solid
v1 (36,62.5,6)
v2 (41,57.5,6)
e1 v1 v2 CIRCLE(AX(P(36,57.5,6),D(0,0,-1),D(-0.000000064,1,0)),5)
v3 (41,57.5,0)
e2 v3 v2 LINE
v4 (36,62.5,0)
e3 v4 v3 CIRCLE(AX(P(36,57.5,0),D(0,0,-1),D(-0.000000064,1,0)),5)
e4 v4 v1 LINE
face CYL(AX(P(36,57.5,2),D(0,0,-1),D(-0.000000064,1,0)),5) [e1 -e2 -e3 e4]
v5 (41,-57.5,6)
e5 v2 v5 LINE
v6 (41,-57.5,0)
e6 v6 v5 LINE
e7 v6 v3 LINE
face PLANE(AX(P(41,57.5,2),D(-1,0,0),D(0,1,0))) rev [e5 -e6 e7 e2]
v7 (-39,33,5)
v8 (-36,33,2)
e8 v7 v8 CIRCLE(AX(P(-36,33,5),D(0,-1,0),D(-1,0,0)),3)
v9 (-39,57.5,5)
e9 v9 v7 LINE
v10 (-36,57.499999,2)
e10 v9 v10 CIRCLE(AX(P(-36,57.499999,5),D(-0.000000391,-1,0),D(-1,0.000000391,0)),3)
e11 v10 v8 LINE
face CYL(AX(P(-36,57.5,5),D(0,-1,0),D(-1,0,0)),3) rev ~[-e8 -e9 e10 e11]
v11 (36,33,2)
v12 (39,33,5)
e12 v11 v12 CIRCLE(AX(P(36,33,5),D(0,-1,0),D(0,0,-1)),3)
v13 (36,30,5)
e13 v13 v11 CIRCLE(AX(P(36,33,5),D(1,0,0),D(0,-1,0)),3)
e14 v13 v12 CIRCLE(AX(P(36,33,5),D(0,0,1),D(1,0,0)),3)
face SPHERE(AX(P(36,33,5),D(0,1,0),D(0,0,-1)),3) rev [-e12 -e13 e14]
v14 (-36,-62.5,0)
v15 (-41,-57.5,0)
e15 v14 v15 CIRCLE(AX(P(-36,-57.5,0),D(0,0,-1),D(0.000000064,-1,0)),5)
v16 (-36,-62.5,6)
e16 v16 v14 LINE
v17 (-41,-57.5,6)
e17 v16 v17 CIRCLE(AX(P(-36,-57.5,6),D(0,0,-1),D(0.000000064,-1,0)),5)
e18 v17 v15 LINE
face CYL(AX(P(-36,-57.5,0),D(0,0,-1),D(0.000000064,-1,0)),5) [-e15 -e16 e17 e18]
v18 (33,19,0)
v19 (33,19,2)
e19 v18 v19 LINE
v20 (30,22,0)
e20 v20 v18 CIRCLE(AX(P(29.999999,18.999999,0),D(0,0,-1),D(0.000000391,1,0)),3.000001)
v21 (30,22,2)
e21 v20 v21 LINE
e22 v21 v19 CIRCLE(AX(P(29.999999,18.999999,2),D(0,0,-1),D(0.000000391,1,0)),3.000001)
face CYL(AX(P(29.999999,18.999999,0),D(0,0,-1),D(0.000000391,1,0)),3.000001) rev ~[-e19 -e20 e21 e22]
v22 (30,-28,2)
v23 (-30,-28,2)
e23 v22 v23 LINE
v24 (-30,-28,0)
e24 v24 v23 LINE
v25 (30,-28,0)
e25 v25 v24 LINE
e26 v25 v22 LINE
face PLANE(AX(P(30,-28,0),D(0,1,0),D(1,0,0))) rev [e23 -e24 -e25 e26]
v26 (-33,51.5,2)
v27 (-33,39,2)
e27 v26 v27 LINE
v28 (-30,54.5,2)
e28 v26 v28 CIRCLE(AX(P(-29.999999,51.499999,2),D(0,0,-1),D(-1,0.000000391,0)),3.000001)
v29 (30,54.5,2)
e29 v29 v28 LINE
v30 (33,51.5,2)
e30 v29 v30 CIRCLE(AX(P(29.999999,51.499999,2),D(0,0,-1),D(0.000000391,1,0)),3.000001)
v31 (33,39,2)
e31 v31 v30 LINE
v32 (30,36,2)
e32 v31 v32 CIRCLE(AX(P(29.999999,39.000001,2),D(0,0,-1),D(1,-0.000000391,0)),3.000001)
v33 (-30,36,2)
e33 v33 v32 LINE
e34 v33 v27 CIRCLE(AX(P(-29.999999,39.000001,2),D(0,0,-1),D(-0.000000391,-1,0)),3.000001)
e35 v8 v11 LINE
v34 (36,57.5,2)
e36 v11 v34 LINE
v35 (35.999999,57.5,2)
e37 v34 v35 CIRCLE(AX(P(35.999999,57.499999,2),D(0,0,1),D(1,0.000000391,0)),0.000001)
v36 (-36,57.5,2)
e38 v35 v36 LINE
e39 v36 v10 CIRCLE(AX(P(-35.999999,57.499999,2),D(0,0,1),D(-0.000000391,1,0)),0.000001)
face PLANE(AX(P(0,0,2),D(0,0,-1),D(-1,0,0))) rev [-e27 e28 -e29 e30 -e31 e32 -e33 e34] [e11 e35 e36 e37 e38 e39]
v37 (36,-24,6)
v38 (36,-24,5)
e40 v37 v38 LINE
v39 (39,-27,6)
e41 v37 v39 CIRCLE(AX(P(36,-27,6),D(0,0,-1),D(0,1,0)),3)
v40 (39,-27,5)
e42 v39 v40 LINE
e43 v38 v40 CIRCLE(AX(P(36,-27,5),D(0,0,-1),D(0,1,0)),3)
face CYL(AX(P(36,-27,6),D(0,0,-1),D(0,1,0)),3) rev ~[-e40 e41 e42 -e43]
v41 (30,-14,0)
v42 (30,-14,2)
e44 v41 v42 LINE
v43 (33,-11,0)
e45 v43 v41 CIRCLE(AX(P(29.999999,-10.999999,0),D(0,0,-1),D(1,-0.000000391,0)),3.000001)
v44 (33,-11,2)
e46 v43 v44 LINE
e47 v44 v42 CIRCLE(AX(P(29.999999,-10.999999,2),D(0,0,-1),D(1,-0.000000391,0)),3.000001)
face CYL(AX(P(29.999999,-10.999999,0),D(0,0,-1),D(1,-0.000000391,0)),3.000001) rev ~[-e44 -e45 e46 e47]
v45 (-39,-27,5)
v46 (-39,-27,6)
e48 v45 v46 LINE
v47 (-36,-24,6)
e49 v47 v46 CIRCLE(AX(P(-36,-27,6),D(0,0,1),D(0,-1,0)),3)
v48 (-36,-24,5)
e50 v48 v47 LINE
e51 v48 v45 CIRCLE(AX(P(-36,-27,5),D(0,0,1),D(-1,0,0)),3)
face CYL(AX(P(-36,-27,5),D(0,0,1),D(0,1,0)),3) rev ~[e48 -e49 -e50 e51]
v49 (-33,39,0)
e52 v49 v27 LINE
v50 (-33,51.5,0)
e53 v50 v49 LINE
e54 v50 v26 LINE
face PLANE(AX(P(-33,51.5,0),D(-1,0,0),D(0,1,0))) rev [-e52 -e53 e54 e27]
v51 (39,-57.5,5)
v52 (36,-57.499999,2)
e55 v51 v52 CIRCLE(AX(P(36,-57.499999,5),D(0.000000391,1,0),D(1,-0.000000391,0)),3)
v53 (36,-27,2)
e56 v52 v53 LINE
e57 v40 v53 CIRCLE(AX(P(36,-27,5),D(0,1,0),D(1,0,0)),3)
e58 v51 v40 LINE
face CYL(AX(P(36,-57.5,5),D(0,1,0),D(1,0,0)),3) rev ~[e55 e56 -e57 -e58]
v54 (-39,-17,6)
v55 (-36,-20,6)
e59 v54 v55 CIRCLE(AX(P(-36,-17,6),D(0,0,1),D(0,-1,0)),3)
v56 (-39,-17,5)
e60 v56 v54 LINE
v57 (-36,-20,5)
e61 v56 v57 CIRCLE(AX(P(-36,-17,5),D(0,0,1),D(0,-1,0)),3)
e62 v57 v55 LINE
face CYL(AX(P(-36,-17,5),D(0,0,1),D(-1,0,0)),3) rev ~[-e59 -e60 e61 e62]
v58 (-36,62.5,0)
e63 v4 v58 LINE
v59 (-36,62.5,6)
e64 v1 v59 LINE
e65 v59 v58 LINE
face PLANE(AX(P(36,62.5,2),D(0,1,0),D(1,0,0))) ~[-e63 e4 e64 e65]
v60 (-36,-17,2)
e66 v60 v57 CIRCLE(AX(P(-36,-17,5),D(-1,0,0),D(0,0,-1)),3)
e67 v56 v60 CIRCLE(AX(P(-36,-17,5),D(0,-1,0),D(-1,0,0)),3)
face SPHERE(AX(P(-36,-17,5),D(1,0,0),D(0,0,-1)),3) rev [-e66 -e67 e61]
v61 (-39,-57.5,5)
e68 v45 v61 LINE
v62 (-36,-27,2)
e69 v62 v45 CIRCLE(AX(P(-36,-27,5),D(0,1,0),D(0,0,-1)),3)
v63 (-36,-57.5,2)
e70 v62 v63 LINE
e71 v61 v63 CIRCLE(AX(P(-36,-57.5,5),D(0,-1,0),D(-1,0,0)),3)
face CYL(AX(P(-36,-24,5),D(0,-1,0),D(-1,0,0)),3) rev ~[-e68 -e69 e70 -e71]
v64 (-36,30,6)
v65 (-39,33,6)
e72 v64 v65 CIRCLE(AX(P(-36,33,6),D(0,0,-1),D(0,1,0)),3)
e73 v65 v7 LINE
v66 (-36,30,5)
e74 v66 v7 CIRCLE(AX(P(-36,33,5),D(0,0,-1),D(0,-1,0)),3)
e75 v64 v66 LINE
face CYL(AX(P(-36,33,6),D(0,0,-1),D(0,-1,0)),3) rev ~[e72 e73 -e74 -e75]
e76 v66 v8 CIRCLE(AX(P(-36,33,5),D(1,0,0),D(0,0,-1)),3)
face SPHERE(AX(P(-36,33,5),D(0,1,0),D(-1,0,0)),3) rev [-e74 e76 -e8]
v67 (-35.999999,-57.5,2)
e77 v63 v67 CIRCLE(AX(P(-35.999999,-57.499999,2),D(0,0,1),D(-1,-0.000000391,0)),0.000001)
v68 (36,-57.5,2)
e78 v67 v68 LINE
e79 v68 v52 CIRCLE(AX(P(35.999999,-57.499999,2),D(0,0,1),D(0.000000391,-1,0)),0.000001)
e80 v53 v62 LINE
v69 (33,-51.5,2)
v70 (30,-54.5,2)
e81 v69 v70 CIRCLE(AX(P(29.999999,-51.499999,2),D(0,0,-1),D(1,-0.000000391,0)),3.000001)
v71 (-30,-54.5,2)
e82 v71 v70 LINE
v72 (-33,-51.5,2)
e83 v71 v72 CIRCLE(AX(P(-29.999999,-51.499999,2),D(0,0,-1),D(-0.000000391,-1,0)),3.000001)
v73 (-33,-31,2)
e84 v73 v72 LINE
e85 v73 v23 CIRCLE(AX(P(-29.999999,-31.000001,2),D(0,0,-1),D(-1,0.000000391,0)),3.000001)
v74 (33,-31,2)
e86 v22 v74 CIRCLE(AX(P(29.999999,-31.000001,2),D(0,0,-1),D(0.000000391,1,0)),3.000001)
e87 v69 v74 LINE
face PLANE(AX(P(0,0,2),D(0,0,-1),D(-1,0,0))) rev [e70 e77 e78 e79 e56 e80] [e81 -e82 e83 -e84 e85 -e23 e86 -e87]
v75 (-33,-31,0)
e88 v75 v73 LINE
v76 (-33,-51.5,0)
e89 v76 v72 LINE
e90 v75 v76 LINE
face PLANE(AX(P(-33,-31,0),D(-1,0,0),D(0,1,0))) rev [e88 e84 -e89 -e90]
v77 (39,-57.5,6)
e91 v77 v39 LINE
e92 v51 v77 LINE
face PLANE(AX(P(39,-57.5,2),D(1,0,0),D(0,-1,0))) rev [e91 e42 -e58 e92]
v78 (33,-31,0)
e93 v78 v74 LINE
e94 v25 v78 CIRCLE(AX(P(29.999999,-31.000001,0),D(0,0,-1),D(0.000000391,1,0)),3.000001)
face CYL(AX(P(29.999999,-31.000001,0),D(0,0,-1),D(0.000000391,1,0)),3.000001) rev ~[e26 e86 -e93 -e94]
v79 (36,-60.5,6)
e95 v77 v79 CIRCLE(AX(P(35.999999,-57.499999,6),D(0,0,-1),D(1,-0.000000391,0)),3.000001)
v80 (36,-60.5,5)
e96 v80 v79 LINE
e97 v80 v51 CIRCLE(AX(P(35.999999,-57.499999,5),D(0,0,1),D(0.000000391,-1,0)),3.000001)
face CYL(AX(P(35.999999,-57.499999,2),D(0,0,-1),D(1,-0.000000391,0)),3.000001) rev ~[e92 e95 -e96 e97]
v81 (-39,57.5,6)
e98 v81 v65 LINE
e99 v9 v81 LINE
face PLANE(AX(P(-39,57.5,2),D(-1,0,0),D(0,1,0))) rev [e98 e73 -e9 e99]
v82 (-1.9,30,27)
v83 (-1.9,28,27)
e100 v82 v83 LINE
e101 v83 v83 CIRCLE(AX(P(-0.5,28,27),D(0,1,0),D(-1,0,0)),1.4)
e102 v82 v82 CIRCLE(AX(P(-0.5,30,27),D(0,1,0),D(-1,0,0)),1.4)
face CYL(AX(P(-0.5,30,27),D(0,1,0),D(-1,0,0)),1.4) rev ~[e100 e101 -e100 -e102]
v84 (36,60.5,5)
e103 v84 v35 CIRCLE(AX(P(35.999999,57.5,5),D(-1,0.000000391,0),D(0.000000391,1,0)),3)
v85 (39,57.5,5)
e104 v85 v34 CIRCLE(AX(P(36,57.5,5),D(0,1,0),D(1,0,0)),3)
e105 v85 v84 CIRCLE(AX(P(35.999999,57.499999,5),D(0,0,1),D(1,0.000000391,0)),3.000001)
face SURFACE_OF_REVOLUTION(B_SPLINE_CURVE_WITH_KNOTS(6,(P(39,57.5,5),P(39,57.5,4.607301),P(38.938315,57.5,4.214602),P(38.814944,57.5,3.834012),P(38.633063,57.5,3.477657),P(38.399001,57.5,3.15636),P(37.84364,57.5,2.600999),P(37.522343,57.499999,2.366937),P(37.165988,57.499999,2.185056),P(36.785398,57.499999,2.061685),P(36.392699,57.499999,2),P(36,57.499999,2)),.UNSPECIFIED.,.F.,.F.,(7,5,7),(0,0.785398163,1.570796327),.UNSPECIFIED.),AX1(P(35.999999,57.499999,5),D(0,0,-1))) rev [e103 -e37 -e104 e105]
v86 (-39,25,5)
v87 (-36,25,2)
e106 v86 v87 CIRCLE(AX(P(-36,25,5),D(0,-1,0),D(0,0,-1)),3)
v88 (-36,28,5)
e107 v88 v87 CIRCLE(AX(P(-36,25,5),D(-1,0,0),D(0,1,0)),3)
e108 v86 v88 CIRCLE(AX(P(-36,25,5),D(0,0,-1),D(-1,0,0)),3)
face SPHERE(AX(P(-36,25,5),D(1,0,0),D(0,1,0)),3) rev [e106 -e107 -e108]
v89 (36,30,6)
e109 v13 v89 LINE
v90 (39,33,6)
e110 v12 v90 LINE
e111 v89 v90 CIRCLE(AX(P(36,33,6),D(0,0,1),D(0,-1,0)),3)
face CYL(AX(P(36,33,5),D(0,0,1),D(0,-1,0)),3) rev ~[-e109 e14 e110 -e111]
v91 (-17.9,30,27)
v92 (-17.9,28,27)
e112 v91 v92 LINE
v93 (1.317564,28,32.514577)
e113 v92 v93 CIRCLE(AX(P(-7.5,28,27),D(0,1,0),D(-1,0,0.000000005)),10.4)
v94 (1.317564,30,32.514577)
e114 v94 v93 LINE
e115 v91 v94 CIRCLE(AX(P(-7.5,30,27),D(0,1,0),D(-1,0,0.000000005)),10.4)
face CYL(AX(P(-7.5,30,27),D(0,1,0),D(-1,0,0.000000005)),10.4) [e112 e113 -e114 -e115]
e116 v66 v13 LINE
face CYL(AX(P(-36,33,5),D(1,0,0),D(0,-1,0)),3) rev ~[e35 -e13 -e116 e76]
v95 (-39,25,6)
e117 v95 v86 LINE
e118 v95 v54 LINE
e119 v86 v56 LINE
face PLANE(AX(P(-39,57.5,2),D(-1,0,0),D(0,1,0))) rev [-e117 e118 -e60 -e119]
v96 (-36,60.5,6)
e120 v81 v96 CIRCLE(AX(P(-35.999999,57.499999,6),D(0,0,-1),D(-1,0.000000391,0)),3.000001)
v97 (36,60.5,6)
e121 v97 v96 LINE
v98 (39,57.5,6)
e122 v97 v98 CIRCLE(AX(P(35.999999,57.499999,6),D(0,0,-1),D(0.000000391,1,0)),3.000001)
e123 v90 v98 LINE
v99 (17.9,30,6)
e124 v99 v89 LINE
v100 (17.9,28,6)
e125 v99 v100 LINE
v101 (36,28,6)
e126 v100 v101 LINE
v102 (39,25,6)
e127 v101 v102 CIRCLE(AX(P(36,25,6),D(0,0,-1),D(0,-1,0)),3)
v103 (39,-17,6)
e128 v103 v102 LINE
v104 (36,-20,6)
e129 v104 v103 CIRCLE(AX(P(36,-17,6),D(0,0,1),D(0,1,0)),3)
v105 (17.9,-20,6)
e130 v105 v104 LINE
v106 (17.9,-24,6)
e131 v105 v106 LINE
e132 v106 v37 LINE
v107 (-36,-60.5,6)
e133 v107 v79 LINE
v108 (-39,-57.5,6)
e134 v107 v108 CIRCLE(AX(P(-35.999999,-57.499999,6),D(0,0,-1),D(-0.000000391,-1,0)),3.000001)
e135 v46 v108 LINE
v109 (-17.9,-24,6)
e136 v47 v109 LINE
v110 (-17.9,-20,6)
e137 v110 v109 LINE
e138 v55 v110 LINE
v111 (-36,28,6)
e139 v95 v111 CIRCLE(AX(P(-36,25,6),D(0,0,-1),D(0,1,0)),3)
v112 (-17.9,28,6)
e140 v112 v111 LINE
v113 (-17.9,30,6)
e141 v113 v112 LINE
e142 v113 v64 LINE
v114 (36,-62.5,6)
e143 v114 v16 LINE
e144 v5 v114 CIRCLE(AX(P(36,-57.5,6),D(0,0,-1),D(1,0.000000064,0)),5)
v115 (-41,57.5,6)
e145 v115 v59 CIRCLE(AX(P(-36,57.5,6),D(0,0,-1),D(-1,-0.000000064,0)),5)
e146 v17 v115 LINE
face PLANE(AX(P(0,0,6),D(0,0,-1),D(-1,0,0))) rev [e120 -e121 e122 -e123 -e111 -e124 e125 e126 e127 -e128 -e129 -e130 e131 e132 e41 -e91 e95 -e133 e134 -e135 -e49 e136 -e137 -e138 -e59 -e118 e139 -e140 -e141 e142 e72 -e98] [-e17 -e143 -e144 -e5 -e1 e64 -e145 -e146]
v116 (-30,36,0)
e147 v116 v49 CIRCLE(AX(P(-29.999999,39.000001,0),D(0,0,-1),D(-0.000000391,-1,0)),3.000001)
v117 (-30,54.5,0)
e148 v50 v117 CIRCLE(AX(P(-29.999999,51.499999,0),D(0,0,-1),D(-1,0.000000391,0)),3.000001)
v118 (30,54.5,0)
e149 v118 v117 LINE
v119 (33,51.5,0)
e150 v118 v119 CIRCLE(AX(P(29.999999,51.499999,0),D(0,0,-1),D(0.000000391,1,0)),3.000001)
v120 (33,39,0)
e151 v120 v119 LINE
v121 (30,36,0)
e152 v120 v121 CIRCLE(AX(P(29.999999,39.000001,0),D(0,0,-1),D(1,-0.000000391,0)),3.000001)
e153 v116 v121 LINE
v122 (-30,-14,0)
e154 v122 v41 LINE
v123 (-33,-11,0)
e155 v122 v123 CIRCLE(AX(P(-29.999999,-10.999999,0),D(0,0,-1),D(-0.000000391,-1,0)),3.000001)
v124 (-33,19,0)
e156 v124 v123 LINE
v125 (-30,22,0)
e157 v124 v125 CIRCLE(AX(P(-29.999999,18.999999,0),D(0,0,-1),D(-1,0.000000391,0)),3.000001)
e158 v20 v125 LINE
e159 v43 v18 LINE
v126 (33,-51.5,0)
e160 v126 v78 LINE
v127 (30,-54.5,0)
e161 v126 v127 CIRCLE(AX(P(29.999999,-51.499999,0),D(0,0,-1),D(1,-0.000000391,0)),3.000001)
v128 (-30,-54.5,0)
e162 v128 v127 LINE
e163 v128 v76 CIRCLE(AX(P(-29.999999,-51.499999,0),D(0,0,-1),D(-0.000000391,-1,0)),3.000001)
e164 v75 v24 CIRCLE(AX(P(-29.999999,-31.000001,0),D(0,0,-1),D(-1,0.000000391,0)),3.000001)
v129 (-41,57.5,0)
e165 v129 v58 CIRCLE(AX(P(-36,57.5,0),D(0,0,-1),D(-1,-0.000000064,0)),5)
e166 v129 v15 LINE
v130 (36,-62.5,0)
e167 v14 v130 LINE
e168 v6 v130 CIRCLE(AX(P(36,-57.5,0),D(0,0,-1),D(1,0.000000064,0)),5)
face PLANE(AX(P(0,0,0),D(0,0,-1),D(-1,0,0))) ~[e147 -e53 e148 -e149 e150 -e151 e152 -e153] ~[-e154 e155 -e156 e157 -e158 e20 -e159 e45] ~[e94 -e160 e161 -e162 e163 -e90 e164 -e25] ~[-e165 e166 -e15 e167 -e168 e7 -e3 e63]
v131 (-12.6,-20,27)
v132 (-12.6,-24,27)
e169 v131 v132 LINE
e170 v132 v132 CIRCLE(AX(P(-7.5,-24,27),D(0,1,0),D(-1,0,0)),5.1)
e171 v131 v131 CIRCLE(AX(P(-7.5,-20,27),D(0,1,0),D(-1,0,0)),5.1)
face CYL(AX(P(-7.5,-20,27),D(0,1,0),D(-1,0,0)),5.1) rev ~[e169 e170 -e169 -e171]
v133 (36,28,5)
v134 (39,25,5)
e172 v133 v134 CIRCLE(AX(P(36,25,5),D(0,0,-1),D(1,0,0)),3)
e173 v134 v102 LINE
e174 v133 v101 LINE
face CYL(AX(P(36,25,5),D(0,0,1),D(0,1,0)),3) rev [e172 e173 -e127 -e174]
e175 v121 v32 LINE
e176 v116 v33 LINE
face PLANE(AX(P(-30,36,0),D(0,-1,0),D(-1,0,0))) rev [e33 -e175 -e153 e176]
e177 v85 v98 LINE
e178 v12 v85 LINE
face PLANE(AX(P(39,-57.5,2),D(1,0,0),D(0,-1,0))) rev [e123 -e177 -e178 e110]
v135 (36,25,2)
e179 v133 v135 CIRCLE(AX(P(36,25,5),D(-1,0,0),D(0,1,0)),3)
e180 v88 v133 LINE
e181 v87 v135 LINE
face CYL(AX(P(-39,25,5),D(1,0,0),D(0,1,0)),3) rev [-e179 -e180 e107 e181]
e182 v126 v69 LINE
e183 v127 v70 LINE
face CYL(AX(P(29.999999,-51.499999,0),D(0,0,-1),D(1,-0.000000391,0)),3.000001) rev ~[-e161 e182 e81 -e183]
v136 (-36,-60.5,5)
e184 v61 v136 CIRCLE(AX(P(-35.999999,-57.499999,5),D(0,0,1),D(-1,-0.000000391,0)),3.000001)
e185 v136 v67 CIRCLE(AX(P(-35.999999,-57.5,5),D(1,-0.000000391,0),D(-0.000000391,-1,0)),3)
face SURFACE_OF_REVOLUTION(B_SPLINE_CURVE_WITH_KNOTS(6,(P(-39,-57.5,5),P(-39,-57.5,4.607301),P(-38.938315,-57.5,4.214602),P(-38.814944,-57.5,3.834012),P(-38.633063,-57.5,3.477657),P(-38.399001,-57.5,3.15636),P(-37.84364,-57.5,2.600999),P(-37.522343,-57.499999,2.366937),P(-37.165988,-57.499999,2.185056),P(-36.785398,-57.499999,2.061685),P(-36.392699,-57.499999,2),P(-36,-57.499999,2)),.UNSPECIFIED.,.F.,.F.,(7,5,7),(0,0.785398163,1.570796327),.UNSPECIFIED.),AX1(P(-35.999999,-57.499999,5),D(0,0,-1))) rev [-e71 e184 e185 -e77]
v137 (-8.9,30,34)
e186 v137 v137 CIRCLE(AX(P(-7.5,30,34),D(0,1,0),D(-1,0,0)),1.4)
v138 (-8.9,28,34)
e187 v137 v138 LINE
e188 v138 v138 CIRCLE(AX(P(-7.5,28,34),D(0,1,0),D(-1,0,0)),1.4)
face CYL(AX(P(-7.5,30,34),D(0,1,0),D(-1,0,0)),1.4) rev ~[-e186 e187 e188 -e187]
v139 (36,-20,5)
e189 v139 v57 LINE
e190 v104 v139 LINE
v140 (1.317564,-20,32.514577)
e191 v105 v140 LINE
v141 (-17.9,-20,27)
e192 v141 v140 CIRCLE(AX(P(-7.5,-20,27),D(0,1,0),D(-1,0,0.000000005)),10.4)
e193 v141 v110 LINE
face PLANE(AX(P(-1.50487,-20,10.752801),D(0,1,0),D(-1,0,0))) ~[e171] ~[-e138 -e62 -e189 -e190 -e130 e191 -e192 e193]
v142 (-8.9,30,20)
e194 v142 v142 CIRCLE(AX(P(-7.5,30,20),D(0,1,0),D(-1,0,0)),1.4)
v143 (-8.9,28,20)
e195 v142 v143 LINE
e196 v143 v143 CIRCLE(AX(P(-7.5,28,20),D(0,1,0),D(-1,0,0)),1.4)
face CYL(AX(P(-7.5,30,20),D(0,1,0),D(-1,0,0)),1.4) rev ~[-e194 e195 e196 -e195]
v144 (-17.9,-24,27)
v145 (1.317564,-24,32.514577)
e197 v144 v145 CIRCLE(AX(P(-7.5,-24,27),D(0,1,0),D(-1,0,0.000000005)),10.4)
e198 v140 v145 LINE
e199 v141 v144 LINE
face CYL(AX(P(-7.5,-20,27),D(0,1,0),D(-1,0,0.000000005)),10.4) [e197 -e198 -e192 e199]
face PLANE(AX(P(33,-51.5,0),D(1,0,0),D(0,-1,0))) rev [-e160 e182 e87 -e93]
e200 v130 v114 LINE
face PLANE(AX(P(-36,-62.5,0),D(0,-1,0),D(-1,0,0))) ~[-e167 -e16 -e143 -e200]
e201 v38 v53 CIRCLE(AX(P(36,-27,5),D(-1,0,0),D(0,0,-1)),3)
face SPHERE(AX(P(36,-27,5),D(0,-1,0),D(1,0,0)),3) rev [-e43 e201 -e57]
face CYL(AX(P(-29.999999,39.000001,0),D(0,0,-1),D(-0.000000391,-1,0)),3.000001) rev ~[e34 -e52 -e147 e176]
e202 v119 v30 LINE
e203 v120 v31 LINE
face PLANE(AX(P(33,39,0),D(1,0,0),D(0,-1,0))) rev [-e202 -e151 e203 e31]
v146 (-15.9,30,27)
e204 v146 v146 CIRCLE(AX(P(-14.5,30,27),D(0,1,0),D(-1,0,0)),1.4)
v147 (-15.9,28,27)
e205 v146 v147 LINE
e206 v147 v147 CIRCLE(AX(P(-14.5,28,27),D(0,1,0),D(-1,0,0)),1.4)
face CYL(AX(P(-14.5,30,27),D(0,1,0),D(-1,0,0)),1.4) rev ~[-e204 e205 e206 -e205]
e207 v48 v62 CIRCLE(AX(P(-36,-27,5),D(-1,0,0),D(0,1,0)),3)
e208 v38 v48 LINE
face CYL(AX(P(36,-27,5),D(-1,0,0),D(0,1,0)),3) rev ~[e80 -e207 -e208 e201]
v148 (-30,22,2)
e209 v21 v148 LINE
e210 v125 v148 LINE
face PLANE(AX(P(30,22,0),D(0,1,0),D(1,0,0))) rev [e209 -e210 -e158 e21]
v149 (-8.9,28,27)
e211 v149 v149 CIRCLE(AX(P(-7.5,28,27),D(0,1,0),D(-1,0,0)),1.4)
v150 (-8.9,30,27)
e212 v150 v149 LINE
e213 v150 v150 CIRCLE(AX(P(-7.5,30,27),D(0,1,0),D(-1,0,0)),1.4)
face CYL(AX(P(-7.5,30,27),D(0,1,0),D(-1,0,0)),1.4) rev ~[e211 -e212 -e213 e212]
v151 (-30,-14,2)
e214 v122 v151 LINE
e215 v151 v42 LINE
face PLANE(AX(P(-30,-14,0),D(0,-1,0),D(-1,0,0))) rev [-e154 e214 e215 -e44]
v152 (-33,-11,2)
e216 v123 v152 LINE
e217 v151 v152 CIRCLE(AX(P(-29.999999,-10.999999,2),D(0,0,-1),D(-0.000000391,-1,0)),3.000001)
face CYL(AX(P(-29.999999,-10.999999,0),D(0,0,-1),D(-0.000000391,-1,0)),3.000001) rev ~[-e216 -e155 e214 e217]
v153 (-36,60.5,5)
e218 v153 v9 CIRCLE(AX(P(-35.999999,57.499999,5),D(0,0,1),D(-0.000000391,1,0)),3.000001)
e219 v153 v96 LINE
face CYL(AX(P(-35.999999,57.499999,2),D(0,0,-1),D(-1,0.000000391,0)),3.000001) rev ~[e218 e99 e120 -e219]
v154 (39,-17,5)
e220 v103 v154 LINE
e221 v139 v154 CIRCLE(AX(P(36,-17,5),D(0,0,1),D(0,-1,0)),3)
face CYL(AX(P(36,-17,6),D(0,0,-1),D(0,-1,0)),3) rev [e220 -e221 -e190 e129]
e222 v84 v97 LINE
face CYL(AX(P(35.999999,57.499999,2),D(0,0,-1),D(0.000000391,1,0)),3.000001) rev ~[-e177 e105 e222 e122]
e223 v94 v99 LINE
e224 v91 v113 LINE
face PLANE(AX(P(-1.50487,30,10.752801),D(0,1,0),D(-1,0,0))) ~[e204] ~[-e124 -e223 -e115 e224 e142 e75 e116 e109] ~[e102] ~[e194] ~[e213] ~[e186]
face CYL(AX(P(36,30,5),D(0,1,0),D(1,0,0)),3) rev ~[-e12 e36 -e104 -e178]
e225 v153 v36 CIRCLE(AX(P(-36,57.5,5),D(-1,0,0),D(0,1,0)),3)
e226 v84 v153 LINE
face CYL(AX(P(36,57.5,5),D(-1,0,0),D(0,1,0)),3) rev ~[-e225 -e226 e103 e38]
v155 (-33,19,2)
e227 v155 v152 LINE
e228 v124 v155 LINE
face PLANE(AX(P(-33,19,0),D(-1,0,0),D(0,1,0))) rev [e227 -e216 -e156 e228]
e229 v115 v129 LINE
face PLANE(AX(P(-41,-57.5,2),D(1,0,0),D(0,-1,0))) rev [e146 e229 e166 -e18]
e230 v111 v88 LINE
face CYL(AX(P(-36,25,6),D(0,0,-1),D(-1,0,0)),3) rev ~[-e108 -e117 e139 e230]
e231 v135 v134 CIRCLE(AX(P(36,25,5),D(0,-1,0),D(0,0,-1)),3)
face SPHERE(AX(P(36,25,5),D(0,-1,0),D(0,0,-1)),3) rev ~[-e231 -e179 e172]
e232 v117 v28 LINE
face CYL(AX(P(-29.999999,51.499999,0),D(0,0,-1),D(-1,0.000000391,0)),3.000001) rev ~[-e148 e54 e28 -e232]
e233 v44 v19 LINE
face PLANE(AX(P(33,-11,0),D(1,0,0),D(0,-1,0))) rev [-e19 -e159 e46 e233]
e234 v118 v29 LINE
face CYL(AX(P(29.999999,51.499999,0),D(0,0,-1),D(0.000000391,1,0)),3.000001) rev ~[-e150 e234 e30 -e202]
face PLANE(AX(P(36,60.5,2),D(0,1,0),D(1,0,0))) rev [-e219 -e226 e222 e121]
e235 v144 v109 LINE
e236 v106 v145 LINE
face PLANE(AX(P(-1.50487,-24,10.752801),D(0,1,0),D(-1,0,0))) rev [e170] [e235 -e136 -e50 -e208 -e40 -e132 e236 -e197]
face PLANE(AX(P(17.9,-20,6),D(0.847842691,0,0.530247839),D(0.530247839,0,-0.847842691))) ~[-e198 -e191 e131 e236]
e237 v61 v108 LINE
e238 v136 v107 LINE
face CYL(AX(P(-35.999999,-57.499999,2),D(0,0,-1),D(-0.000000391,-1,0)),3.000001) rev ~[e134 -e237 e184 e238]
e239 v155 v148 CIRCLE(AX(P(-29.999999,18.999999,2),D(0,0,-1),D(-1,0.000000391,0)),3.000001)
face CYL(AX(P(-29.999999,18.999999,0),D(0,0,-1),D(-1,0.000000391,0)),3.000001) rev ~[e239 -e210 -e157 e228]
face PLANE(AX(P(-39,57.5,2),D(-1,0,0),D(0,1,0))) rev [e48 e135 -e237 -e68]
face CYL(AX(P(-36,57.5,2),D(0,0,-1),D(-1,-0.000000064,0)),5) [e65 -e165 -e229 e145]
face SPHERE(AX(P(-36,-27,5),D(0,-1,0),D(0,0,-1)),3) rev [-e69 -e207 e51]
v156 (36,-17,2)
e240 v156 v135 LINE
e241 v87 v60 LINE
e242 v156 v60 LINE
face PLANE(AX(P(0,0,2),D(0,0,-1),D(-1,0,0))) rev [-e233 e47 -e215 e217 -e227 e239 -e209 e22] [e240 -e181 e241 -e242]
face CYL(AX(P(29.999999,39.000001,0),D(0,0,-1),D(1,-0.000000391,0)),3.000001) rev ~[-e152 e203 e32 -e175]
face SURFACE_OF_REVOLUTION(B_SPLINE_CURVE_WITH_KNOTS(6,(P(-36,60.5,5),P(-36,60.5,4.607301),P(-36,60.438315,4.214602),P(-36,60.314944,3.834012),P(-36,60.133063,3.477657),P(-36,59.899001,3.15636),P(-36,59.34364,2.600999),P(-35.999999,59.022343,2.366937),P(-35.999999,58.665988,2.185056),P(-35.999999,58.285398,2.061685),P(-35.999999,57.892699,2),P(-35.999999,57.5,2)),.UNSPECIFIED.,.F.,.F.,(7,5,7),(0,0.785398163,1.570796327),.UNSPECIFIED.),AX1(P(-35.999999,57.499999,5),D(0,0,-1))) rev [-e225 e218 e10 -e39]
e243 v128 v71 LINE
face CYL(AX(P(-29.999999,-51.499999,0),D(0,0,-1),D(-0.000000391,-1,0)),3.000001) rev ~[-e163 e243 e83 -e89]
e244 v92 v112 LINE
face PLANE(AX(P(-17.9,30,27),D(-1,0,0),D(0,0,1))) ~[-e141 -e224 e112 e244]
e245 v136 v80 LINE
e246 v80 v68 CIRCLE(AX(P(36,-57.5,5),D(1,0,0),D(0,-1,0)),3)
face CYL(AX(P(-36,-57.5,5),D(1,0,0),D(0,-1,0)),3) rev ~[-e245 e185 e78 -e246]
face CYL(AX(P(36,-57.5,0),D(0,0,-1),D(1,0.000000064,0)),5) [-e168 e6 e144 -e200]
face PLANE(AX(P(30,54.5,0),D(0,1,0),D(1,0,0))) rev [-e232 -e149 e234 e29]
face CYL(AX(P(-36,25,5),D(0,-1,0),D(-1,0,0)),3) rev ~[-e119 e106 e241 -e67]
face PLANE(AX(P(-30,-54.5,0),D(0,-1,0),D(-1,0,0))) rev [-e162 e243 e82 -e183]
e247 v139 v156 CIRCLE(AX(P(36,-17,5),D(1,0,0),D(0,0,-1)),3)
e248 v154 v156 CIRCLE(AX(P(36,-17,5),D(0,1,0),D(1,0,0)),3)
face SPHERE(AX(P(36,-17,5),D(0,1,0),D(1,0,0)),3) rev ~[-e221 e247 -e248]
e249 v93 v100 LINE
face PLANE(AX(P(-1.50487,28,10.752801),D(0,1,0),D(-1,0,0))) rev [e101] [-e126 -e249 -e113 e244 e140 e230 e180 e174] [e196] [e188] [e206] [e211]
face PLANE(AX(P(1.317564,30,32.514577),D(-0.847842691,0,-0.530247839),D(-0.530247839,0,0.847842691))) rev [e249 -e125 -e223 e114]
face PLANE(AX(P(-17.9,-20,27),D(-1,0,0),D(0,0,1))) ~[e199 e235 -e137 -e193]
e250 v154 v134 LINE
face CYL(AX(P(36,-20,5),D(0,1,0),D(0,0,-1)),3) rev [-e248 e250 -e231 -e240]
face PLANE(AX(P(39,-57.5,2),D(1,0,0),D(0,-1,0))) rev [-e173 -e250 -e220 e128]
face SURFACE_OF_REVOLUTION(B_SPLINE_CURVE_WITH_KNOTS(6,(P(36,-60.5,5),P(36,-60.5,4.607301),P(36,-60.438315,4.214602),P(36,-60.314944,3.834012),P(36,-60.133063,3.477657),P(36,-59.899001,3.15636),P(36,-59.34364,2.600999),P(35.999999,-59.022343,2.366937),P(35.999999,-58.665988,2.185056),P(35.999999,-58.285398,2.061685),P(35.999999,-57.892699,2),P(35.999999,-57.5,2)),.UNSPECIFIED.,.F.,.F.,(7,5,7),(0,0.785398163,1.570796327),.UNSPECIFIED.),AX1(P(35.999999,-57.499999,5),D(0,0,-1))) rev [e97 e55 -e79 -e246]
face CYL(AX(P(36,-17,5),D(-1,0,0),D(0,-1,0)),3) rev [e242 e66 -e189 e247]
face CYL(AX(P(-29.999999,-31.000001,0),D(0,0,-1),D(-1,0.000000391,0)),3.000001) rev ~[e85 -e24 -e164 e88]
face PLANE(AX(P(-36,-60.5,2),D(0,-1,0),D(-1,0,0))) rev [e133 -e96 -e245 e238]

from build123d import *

# Parameters (mm, degrees)
PAD_DEPTH    = 2
SKETCH001_R  = 5.1
PAD001_DEPTH = 4
SKETCH003_R  = 1.4
PAD003_DEPTH = 2
PAD004_DEPTH = 4
FILLET_R     = 3
FILLET001_R  = 3
FILLET002_R  = 3
FILLET003_R  = 3
FILLET004_R  = 3
FILLET005_R  = 3
FILLET006_R  = 3
FILLET007_R  = 3


with BuildPart() as body:
    # Sketch → Pad (new body)
    with BuildSketch(Plane.XY):
        with BuildLine():
            Line((-36, 62.5), (36, 62.5))
            ThreePointArc((41, 57.5), (39.535534, 61.035534), (36, 62.5))
            Line((41, 57.5), (41, -57.5))
            ThreePointArc((36, -62.5), (39.535534, -61.035534), (41, -57.5))
            Line((36, -62.5), (-36, -62.5))
            ThreePointArc((-41, -57.5), (-39.535534, -61.035534), (-36, -62.5))
            Line((-41, -57.5), (-41, 57.5))
            ThreePointArc((-36, 62.5), (-39.535534, 61.035534), (-41, 57.5))
        make_face()
        with BuildLine():
            ThreePointArc((-30, 54.5), (-32.12132, 53.62132), (-33, 51.5))
            Line((-33, 39), (-33, 51.5))
            ThreePointArc((-33, 39), (-32.12132, 36.87868), (-30, 36))
            Line((30, 36), (-30, 36))
            ThreePointArc((30, 36), (32.12132, 36.87868), (33, 39))
            Line((33, 51.5), (33, 39))
            ThreePointArc((33, 51.5), (32.12132, 53.62132), (30, 54.5))
            Line((-30, 54.5), (30, 54.5))
        make_face(mode=Mode.SUBTRACT)
        with BuildLine():
            ThreePointArc((-30, -28), (-32.12132, -28.87868), (-33, -31))
            Line((-33, -51.5), (-33, -31))
            ThreePointArc((-33, -51.5), (-32.12132, -53.62132), (-30, -54.5))
            Line((30, -54.5), (-30, -54.5))
            ThreePointArc((30, -54.5), (32.12132, -53.62132), (33, -51.5))
            Line((33, -31), (33, -51.5))
            ThreePointArc((33, -31), (32.12132, -28.87868), (30, -28))
            Line((-30, -28), (30, -28))
        make_face(mode=Mode.SUBTRACT)
        with BuildLine():
            ThreePointArc((-30, 22), (-32.12132, 21.12132), (-33, 19))
            Line((-33, -11), (-33, 19))
            ThreePointArc((-33, -11), (-32.12132, -13.12132), (-30, -14))
            Line((30, -14), (-30, -14))
            ThreePointArc((30, -14), (32.12132, -13.12132), (33, -11))
            Line((33, 19), (33, -11))
            ThreePointArc((33, 19), (32.12132, 21.12132), (30, 22))
            Line((-30, 22), (30, 22))
        make_face(mode=Mode.SUBTRACT)
    extrude(amount=PAD_DEPTH)

    # Sketch001 → Pad001 (join)
    with BuildSketch(Plane(origin=(7.5, -20, 0), x_dir=(1, 0, 0), z_dir=(0, -1, 0))):
        with BuildLine():
            Line((10.4, 27), (10.4, 6))
            Line((33.5, 6), (10.4, 6))
            Line((33.5, 2), (33.5, 6))
            Line((-48.5, 2), (33.5, 2))
            Line((-48.5, 6), (-48.5, 2))
            Line((-25.4, 6), (-48.5, 6))
            Line((-25.4, 6), (-8.817564, 32.514577))
            ThreePointArc((10.4, 27), (2.868565, 36.996566), (-8.817564, 32.514577))
        make_face()
        with Locations((0, 27)):
            Circle(SKETCH001_R, mode=Mode.SUBTRACT)
    extrude(amount=PAD001_DEPTH)

    # Sketch003 → Pad003 (join)
    with BuildSketch(Plane(origin=(7.5, 30, 0), x_dir=(1, 0, 0), z_dir=(0, -1, 0))):
        with BuildLine():
            Line((33.5, 2), (-48.5, 2))
            Line((-48.5, 6), (-48.5, 2))
            Line((-25.4, 6), (-48.5, 6))
            Line((-8.817564, 32.514577), (-25.4, 6))
            ThreePointArc((10.4, 27), (2.868565, 36.996566), (-8.817564, 32.514577))
            Line((10.4, 27), (10.4, 6))
            Line((10.4, 6), (33.5, 6))
            Line((33.5, 6), (33.5, 2))
        make_face()
        with Locations((0, 27)):
            Circle(SKETCH003_R, mode=Mode.SUBTRACT)
        with Locations((-7, 27)):
            Circle(SKETCH003_R, mode=Mode.SUBTRACT)
        with Locations((0, 20)):
            Circle(SKETCH003_R, mode=Mode.SUBTRACT)
        with Locations((7, 27)):
            Circle(SKETCH003_R, mode=Mode.SUBTRACT)
        with Locations((0, 34)):
            Circle(SKETCH003_R, mode=Mode.SUBTRACT)
    extrude(amount=PAD003_DEPTH)

    # Sketch004 (on Face5 of Pad003) → Pad004 (join)
    with BuildSketch(Plane.XY.offset(2)):
        with BuildLine():
            Line((-36, 62.5), (36, 62.5))
            ThreePointArc((41, 57.5), (39.535534, 61.035534), (36, 62.5))
            Line((41, -57.5), (41, 57.5))
            ThreePointArc((36, -62.5), (39.535534, -61.035534), (41, -57.5))
            Line((-36, -62.5), (36, -62.5))
            ThreePointArc((-41, -57.5), (-39.535534, -61.035534), (-36, -62.5))
            Line((-41, 57.5), (-41, -57.5))
            ThreePointArc((-36, 62.5), (-39.535534, 61.035534), (-41, 57.5))
        make_face()
        with BuildLine():
            Line((-36, 60.5), (36, 60.5))
            ThreePointArc((39, 57.5), (38.12132, 59.62132), (36, 60.5))
            Line((39, 57.5), (39, -57.5))
            ThreePointArc((36, -60.5), (38.12132, -59.62132), (39, -57.5))
            Line((36, -60.5), (-36, -60.5))
            ThreePointArc((-39, -57.5), (-38.12132, -59.62132), (-36, -60.5))
            Line((-39, -57.5), (-39, 57.5))
            ThreePointArc((-36, 60.5), (-38.12132, 59.62132), (-39, 57.5))
        make_face(mode=Mode.SUBTRACT)
    extrude(amount=PAD004_DEPTH)

    # Fillet
    fillet_edges = [body.edges().sort_by_distance(p)[0] for p in [
        (-39, 4, 2),
    ]]
    fillet(fillet_edges, radius=FILLET_R)

    # Fillet001
    fillet001_edges = [body.edges().sort_by_distance(p)[0] for p in [
        (-39, -40.75, 2),
    ]]
    fillet(fillet001_edges, radius=FILLET001_R)

    # Fillet002
    fillet002_edges = [body.edges().sort_by_distance(p)[0] for p in [
        (0, -24, 2),
    ]]
    fillet(fillet002_edges, radius=FILLET002_R)

    # Fillet003
    fillet003_edges = [body.edges().sort_by_distance(p)[0] for p in [
        (1.5, 28, 2),
    ]]
    fillet(fillet003_edges, radius=FILLET003_R)

    # Fillet004
    fillet004_edges = [body.edges().sort_by_distance(p)[0] for p in [
        (1.5, -20, 2),
    ]]
    fillet(fillet004_edges, radius=FILLET004_R)

    # Fillet005
    fillet005_edges = [body.edges().sort_by_distance(p)[0] for p in [
        (39, 4, 2),
    ]]
    fillet(fillet005_edges, radius=FILLET005_R)

    # Fillet006
    fillet006_edges = [body.edges().sort_by_distance(p)[0] for p in [
        (0, 60.5, 2),
    ]]
    fillet(fillet006_edges, radius=FILLET006_R)

    # Fillet007
    fillet007_edges = [body.edges().sort_by_distance(p)[0] for p in [
        (0, 30, 2),
    ]]
    fillet(fillet007_edges, radius=FILLET007_R)


with BuildPart() as part_mirroring:
    # Part__Mirroring: instance of Body
    add(body.part.mirror(Plane(origin=(0, 0, 0), x_dir=(0, -1, 0), z_dir=(1, 0, 0))))


solid = part_mirroring.part
